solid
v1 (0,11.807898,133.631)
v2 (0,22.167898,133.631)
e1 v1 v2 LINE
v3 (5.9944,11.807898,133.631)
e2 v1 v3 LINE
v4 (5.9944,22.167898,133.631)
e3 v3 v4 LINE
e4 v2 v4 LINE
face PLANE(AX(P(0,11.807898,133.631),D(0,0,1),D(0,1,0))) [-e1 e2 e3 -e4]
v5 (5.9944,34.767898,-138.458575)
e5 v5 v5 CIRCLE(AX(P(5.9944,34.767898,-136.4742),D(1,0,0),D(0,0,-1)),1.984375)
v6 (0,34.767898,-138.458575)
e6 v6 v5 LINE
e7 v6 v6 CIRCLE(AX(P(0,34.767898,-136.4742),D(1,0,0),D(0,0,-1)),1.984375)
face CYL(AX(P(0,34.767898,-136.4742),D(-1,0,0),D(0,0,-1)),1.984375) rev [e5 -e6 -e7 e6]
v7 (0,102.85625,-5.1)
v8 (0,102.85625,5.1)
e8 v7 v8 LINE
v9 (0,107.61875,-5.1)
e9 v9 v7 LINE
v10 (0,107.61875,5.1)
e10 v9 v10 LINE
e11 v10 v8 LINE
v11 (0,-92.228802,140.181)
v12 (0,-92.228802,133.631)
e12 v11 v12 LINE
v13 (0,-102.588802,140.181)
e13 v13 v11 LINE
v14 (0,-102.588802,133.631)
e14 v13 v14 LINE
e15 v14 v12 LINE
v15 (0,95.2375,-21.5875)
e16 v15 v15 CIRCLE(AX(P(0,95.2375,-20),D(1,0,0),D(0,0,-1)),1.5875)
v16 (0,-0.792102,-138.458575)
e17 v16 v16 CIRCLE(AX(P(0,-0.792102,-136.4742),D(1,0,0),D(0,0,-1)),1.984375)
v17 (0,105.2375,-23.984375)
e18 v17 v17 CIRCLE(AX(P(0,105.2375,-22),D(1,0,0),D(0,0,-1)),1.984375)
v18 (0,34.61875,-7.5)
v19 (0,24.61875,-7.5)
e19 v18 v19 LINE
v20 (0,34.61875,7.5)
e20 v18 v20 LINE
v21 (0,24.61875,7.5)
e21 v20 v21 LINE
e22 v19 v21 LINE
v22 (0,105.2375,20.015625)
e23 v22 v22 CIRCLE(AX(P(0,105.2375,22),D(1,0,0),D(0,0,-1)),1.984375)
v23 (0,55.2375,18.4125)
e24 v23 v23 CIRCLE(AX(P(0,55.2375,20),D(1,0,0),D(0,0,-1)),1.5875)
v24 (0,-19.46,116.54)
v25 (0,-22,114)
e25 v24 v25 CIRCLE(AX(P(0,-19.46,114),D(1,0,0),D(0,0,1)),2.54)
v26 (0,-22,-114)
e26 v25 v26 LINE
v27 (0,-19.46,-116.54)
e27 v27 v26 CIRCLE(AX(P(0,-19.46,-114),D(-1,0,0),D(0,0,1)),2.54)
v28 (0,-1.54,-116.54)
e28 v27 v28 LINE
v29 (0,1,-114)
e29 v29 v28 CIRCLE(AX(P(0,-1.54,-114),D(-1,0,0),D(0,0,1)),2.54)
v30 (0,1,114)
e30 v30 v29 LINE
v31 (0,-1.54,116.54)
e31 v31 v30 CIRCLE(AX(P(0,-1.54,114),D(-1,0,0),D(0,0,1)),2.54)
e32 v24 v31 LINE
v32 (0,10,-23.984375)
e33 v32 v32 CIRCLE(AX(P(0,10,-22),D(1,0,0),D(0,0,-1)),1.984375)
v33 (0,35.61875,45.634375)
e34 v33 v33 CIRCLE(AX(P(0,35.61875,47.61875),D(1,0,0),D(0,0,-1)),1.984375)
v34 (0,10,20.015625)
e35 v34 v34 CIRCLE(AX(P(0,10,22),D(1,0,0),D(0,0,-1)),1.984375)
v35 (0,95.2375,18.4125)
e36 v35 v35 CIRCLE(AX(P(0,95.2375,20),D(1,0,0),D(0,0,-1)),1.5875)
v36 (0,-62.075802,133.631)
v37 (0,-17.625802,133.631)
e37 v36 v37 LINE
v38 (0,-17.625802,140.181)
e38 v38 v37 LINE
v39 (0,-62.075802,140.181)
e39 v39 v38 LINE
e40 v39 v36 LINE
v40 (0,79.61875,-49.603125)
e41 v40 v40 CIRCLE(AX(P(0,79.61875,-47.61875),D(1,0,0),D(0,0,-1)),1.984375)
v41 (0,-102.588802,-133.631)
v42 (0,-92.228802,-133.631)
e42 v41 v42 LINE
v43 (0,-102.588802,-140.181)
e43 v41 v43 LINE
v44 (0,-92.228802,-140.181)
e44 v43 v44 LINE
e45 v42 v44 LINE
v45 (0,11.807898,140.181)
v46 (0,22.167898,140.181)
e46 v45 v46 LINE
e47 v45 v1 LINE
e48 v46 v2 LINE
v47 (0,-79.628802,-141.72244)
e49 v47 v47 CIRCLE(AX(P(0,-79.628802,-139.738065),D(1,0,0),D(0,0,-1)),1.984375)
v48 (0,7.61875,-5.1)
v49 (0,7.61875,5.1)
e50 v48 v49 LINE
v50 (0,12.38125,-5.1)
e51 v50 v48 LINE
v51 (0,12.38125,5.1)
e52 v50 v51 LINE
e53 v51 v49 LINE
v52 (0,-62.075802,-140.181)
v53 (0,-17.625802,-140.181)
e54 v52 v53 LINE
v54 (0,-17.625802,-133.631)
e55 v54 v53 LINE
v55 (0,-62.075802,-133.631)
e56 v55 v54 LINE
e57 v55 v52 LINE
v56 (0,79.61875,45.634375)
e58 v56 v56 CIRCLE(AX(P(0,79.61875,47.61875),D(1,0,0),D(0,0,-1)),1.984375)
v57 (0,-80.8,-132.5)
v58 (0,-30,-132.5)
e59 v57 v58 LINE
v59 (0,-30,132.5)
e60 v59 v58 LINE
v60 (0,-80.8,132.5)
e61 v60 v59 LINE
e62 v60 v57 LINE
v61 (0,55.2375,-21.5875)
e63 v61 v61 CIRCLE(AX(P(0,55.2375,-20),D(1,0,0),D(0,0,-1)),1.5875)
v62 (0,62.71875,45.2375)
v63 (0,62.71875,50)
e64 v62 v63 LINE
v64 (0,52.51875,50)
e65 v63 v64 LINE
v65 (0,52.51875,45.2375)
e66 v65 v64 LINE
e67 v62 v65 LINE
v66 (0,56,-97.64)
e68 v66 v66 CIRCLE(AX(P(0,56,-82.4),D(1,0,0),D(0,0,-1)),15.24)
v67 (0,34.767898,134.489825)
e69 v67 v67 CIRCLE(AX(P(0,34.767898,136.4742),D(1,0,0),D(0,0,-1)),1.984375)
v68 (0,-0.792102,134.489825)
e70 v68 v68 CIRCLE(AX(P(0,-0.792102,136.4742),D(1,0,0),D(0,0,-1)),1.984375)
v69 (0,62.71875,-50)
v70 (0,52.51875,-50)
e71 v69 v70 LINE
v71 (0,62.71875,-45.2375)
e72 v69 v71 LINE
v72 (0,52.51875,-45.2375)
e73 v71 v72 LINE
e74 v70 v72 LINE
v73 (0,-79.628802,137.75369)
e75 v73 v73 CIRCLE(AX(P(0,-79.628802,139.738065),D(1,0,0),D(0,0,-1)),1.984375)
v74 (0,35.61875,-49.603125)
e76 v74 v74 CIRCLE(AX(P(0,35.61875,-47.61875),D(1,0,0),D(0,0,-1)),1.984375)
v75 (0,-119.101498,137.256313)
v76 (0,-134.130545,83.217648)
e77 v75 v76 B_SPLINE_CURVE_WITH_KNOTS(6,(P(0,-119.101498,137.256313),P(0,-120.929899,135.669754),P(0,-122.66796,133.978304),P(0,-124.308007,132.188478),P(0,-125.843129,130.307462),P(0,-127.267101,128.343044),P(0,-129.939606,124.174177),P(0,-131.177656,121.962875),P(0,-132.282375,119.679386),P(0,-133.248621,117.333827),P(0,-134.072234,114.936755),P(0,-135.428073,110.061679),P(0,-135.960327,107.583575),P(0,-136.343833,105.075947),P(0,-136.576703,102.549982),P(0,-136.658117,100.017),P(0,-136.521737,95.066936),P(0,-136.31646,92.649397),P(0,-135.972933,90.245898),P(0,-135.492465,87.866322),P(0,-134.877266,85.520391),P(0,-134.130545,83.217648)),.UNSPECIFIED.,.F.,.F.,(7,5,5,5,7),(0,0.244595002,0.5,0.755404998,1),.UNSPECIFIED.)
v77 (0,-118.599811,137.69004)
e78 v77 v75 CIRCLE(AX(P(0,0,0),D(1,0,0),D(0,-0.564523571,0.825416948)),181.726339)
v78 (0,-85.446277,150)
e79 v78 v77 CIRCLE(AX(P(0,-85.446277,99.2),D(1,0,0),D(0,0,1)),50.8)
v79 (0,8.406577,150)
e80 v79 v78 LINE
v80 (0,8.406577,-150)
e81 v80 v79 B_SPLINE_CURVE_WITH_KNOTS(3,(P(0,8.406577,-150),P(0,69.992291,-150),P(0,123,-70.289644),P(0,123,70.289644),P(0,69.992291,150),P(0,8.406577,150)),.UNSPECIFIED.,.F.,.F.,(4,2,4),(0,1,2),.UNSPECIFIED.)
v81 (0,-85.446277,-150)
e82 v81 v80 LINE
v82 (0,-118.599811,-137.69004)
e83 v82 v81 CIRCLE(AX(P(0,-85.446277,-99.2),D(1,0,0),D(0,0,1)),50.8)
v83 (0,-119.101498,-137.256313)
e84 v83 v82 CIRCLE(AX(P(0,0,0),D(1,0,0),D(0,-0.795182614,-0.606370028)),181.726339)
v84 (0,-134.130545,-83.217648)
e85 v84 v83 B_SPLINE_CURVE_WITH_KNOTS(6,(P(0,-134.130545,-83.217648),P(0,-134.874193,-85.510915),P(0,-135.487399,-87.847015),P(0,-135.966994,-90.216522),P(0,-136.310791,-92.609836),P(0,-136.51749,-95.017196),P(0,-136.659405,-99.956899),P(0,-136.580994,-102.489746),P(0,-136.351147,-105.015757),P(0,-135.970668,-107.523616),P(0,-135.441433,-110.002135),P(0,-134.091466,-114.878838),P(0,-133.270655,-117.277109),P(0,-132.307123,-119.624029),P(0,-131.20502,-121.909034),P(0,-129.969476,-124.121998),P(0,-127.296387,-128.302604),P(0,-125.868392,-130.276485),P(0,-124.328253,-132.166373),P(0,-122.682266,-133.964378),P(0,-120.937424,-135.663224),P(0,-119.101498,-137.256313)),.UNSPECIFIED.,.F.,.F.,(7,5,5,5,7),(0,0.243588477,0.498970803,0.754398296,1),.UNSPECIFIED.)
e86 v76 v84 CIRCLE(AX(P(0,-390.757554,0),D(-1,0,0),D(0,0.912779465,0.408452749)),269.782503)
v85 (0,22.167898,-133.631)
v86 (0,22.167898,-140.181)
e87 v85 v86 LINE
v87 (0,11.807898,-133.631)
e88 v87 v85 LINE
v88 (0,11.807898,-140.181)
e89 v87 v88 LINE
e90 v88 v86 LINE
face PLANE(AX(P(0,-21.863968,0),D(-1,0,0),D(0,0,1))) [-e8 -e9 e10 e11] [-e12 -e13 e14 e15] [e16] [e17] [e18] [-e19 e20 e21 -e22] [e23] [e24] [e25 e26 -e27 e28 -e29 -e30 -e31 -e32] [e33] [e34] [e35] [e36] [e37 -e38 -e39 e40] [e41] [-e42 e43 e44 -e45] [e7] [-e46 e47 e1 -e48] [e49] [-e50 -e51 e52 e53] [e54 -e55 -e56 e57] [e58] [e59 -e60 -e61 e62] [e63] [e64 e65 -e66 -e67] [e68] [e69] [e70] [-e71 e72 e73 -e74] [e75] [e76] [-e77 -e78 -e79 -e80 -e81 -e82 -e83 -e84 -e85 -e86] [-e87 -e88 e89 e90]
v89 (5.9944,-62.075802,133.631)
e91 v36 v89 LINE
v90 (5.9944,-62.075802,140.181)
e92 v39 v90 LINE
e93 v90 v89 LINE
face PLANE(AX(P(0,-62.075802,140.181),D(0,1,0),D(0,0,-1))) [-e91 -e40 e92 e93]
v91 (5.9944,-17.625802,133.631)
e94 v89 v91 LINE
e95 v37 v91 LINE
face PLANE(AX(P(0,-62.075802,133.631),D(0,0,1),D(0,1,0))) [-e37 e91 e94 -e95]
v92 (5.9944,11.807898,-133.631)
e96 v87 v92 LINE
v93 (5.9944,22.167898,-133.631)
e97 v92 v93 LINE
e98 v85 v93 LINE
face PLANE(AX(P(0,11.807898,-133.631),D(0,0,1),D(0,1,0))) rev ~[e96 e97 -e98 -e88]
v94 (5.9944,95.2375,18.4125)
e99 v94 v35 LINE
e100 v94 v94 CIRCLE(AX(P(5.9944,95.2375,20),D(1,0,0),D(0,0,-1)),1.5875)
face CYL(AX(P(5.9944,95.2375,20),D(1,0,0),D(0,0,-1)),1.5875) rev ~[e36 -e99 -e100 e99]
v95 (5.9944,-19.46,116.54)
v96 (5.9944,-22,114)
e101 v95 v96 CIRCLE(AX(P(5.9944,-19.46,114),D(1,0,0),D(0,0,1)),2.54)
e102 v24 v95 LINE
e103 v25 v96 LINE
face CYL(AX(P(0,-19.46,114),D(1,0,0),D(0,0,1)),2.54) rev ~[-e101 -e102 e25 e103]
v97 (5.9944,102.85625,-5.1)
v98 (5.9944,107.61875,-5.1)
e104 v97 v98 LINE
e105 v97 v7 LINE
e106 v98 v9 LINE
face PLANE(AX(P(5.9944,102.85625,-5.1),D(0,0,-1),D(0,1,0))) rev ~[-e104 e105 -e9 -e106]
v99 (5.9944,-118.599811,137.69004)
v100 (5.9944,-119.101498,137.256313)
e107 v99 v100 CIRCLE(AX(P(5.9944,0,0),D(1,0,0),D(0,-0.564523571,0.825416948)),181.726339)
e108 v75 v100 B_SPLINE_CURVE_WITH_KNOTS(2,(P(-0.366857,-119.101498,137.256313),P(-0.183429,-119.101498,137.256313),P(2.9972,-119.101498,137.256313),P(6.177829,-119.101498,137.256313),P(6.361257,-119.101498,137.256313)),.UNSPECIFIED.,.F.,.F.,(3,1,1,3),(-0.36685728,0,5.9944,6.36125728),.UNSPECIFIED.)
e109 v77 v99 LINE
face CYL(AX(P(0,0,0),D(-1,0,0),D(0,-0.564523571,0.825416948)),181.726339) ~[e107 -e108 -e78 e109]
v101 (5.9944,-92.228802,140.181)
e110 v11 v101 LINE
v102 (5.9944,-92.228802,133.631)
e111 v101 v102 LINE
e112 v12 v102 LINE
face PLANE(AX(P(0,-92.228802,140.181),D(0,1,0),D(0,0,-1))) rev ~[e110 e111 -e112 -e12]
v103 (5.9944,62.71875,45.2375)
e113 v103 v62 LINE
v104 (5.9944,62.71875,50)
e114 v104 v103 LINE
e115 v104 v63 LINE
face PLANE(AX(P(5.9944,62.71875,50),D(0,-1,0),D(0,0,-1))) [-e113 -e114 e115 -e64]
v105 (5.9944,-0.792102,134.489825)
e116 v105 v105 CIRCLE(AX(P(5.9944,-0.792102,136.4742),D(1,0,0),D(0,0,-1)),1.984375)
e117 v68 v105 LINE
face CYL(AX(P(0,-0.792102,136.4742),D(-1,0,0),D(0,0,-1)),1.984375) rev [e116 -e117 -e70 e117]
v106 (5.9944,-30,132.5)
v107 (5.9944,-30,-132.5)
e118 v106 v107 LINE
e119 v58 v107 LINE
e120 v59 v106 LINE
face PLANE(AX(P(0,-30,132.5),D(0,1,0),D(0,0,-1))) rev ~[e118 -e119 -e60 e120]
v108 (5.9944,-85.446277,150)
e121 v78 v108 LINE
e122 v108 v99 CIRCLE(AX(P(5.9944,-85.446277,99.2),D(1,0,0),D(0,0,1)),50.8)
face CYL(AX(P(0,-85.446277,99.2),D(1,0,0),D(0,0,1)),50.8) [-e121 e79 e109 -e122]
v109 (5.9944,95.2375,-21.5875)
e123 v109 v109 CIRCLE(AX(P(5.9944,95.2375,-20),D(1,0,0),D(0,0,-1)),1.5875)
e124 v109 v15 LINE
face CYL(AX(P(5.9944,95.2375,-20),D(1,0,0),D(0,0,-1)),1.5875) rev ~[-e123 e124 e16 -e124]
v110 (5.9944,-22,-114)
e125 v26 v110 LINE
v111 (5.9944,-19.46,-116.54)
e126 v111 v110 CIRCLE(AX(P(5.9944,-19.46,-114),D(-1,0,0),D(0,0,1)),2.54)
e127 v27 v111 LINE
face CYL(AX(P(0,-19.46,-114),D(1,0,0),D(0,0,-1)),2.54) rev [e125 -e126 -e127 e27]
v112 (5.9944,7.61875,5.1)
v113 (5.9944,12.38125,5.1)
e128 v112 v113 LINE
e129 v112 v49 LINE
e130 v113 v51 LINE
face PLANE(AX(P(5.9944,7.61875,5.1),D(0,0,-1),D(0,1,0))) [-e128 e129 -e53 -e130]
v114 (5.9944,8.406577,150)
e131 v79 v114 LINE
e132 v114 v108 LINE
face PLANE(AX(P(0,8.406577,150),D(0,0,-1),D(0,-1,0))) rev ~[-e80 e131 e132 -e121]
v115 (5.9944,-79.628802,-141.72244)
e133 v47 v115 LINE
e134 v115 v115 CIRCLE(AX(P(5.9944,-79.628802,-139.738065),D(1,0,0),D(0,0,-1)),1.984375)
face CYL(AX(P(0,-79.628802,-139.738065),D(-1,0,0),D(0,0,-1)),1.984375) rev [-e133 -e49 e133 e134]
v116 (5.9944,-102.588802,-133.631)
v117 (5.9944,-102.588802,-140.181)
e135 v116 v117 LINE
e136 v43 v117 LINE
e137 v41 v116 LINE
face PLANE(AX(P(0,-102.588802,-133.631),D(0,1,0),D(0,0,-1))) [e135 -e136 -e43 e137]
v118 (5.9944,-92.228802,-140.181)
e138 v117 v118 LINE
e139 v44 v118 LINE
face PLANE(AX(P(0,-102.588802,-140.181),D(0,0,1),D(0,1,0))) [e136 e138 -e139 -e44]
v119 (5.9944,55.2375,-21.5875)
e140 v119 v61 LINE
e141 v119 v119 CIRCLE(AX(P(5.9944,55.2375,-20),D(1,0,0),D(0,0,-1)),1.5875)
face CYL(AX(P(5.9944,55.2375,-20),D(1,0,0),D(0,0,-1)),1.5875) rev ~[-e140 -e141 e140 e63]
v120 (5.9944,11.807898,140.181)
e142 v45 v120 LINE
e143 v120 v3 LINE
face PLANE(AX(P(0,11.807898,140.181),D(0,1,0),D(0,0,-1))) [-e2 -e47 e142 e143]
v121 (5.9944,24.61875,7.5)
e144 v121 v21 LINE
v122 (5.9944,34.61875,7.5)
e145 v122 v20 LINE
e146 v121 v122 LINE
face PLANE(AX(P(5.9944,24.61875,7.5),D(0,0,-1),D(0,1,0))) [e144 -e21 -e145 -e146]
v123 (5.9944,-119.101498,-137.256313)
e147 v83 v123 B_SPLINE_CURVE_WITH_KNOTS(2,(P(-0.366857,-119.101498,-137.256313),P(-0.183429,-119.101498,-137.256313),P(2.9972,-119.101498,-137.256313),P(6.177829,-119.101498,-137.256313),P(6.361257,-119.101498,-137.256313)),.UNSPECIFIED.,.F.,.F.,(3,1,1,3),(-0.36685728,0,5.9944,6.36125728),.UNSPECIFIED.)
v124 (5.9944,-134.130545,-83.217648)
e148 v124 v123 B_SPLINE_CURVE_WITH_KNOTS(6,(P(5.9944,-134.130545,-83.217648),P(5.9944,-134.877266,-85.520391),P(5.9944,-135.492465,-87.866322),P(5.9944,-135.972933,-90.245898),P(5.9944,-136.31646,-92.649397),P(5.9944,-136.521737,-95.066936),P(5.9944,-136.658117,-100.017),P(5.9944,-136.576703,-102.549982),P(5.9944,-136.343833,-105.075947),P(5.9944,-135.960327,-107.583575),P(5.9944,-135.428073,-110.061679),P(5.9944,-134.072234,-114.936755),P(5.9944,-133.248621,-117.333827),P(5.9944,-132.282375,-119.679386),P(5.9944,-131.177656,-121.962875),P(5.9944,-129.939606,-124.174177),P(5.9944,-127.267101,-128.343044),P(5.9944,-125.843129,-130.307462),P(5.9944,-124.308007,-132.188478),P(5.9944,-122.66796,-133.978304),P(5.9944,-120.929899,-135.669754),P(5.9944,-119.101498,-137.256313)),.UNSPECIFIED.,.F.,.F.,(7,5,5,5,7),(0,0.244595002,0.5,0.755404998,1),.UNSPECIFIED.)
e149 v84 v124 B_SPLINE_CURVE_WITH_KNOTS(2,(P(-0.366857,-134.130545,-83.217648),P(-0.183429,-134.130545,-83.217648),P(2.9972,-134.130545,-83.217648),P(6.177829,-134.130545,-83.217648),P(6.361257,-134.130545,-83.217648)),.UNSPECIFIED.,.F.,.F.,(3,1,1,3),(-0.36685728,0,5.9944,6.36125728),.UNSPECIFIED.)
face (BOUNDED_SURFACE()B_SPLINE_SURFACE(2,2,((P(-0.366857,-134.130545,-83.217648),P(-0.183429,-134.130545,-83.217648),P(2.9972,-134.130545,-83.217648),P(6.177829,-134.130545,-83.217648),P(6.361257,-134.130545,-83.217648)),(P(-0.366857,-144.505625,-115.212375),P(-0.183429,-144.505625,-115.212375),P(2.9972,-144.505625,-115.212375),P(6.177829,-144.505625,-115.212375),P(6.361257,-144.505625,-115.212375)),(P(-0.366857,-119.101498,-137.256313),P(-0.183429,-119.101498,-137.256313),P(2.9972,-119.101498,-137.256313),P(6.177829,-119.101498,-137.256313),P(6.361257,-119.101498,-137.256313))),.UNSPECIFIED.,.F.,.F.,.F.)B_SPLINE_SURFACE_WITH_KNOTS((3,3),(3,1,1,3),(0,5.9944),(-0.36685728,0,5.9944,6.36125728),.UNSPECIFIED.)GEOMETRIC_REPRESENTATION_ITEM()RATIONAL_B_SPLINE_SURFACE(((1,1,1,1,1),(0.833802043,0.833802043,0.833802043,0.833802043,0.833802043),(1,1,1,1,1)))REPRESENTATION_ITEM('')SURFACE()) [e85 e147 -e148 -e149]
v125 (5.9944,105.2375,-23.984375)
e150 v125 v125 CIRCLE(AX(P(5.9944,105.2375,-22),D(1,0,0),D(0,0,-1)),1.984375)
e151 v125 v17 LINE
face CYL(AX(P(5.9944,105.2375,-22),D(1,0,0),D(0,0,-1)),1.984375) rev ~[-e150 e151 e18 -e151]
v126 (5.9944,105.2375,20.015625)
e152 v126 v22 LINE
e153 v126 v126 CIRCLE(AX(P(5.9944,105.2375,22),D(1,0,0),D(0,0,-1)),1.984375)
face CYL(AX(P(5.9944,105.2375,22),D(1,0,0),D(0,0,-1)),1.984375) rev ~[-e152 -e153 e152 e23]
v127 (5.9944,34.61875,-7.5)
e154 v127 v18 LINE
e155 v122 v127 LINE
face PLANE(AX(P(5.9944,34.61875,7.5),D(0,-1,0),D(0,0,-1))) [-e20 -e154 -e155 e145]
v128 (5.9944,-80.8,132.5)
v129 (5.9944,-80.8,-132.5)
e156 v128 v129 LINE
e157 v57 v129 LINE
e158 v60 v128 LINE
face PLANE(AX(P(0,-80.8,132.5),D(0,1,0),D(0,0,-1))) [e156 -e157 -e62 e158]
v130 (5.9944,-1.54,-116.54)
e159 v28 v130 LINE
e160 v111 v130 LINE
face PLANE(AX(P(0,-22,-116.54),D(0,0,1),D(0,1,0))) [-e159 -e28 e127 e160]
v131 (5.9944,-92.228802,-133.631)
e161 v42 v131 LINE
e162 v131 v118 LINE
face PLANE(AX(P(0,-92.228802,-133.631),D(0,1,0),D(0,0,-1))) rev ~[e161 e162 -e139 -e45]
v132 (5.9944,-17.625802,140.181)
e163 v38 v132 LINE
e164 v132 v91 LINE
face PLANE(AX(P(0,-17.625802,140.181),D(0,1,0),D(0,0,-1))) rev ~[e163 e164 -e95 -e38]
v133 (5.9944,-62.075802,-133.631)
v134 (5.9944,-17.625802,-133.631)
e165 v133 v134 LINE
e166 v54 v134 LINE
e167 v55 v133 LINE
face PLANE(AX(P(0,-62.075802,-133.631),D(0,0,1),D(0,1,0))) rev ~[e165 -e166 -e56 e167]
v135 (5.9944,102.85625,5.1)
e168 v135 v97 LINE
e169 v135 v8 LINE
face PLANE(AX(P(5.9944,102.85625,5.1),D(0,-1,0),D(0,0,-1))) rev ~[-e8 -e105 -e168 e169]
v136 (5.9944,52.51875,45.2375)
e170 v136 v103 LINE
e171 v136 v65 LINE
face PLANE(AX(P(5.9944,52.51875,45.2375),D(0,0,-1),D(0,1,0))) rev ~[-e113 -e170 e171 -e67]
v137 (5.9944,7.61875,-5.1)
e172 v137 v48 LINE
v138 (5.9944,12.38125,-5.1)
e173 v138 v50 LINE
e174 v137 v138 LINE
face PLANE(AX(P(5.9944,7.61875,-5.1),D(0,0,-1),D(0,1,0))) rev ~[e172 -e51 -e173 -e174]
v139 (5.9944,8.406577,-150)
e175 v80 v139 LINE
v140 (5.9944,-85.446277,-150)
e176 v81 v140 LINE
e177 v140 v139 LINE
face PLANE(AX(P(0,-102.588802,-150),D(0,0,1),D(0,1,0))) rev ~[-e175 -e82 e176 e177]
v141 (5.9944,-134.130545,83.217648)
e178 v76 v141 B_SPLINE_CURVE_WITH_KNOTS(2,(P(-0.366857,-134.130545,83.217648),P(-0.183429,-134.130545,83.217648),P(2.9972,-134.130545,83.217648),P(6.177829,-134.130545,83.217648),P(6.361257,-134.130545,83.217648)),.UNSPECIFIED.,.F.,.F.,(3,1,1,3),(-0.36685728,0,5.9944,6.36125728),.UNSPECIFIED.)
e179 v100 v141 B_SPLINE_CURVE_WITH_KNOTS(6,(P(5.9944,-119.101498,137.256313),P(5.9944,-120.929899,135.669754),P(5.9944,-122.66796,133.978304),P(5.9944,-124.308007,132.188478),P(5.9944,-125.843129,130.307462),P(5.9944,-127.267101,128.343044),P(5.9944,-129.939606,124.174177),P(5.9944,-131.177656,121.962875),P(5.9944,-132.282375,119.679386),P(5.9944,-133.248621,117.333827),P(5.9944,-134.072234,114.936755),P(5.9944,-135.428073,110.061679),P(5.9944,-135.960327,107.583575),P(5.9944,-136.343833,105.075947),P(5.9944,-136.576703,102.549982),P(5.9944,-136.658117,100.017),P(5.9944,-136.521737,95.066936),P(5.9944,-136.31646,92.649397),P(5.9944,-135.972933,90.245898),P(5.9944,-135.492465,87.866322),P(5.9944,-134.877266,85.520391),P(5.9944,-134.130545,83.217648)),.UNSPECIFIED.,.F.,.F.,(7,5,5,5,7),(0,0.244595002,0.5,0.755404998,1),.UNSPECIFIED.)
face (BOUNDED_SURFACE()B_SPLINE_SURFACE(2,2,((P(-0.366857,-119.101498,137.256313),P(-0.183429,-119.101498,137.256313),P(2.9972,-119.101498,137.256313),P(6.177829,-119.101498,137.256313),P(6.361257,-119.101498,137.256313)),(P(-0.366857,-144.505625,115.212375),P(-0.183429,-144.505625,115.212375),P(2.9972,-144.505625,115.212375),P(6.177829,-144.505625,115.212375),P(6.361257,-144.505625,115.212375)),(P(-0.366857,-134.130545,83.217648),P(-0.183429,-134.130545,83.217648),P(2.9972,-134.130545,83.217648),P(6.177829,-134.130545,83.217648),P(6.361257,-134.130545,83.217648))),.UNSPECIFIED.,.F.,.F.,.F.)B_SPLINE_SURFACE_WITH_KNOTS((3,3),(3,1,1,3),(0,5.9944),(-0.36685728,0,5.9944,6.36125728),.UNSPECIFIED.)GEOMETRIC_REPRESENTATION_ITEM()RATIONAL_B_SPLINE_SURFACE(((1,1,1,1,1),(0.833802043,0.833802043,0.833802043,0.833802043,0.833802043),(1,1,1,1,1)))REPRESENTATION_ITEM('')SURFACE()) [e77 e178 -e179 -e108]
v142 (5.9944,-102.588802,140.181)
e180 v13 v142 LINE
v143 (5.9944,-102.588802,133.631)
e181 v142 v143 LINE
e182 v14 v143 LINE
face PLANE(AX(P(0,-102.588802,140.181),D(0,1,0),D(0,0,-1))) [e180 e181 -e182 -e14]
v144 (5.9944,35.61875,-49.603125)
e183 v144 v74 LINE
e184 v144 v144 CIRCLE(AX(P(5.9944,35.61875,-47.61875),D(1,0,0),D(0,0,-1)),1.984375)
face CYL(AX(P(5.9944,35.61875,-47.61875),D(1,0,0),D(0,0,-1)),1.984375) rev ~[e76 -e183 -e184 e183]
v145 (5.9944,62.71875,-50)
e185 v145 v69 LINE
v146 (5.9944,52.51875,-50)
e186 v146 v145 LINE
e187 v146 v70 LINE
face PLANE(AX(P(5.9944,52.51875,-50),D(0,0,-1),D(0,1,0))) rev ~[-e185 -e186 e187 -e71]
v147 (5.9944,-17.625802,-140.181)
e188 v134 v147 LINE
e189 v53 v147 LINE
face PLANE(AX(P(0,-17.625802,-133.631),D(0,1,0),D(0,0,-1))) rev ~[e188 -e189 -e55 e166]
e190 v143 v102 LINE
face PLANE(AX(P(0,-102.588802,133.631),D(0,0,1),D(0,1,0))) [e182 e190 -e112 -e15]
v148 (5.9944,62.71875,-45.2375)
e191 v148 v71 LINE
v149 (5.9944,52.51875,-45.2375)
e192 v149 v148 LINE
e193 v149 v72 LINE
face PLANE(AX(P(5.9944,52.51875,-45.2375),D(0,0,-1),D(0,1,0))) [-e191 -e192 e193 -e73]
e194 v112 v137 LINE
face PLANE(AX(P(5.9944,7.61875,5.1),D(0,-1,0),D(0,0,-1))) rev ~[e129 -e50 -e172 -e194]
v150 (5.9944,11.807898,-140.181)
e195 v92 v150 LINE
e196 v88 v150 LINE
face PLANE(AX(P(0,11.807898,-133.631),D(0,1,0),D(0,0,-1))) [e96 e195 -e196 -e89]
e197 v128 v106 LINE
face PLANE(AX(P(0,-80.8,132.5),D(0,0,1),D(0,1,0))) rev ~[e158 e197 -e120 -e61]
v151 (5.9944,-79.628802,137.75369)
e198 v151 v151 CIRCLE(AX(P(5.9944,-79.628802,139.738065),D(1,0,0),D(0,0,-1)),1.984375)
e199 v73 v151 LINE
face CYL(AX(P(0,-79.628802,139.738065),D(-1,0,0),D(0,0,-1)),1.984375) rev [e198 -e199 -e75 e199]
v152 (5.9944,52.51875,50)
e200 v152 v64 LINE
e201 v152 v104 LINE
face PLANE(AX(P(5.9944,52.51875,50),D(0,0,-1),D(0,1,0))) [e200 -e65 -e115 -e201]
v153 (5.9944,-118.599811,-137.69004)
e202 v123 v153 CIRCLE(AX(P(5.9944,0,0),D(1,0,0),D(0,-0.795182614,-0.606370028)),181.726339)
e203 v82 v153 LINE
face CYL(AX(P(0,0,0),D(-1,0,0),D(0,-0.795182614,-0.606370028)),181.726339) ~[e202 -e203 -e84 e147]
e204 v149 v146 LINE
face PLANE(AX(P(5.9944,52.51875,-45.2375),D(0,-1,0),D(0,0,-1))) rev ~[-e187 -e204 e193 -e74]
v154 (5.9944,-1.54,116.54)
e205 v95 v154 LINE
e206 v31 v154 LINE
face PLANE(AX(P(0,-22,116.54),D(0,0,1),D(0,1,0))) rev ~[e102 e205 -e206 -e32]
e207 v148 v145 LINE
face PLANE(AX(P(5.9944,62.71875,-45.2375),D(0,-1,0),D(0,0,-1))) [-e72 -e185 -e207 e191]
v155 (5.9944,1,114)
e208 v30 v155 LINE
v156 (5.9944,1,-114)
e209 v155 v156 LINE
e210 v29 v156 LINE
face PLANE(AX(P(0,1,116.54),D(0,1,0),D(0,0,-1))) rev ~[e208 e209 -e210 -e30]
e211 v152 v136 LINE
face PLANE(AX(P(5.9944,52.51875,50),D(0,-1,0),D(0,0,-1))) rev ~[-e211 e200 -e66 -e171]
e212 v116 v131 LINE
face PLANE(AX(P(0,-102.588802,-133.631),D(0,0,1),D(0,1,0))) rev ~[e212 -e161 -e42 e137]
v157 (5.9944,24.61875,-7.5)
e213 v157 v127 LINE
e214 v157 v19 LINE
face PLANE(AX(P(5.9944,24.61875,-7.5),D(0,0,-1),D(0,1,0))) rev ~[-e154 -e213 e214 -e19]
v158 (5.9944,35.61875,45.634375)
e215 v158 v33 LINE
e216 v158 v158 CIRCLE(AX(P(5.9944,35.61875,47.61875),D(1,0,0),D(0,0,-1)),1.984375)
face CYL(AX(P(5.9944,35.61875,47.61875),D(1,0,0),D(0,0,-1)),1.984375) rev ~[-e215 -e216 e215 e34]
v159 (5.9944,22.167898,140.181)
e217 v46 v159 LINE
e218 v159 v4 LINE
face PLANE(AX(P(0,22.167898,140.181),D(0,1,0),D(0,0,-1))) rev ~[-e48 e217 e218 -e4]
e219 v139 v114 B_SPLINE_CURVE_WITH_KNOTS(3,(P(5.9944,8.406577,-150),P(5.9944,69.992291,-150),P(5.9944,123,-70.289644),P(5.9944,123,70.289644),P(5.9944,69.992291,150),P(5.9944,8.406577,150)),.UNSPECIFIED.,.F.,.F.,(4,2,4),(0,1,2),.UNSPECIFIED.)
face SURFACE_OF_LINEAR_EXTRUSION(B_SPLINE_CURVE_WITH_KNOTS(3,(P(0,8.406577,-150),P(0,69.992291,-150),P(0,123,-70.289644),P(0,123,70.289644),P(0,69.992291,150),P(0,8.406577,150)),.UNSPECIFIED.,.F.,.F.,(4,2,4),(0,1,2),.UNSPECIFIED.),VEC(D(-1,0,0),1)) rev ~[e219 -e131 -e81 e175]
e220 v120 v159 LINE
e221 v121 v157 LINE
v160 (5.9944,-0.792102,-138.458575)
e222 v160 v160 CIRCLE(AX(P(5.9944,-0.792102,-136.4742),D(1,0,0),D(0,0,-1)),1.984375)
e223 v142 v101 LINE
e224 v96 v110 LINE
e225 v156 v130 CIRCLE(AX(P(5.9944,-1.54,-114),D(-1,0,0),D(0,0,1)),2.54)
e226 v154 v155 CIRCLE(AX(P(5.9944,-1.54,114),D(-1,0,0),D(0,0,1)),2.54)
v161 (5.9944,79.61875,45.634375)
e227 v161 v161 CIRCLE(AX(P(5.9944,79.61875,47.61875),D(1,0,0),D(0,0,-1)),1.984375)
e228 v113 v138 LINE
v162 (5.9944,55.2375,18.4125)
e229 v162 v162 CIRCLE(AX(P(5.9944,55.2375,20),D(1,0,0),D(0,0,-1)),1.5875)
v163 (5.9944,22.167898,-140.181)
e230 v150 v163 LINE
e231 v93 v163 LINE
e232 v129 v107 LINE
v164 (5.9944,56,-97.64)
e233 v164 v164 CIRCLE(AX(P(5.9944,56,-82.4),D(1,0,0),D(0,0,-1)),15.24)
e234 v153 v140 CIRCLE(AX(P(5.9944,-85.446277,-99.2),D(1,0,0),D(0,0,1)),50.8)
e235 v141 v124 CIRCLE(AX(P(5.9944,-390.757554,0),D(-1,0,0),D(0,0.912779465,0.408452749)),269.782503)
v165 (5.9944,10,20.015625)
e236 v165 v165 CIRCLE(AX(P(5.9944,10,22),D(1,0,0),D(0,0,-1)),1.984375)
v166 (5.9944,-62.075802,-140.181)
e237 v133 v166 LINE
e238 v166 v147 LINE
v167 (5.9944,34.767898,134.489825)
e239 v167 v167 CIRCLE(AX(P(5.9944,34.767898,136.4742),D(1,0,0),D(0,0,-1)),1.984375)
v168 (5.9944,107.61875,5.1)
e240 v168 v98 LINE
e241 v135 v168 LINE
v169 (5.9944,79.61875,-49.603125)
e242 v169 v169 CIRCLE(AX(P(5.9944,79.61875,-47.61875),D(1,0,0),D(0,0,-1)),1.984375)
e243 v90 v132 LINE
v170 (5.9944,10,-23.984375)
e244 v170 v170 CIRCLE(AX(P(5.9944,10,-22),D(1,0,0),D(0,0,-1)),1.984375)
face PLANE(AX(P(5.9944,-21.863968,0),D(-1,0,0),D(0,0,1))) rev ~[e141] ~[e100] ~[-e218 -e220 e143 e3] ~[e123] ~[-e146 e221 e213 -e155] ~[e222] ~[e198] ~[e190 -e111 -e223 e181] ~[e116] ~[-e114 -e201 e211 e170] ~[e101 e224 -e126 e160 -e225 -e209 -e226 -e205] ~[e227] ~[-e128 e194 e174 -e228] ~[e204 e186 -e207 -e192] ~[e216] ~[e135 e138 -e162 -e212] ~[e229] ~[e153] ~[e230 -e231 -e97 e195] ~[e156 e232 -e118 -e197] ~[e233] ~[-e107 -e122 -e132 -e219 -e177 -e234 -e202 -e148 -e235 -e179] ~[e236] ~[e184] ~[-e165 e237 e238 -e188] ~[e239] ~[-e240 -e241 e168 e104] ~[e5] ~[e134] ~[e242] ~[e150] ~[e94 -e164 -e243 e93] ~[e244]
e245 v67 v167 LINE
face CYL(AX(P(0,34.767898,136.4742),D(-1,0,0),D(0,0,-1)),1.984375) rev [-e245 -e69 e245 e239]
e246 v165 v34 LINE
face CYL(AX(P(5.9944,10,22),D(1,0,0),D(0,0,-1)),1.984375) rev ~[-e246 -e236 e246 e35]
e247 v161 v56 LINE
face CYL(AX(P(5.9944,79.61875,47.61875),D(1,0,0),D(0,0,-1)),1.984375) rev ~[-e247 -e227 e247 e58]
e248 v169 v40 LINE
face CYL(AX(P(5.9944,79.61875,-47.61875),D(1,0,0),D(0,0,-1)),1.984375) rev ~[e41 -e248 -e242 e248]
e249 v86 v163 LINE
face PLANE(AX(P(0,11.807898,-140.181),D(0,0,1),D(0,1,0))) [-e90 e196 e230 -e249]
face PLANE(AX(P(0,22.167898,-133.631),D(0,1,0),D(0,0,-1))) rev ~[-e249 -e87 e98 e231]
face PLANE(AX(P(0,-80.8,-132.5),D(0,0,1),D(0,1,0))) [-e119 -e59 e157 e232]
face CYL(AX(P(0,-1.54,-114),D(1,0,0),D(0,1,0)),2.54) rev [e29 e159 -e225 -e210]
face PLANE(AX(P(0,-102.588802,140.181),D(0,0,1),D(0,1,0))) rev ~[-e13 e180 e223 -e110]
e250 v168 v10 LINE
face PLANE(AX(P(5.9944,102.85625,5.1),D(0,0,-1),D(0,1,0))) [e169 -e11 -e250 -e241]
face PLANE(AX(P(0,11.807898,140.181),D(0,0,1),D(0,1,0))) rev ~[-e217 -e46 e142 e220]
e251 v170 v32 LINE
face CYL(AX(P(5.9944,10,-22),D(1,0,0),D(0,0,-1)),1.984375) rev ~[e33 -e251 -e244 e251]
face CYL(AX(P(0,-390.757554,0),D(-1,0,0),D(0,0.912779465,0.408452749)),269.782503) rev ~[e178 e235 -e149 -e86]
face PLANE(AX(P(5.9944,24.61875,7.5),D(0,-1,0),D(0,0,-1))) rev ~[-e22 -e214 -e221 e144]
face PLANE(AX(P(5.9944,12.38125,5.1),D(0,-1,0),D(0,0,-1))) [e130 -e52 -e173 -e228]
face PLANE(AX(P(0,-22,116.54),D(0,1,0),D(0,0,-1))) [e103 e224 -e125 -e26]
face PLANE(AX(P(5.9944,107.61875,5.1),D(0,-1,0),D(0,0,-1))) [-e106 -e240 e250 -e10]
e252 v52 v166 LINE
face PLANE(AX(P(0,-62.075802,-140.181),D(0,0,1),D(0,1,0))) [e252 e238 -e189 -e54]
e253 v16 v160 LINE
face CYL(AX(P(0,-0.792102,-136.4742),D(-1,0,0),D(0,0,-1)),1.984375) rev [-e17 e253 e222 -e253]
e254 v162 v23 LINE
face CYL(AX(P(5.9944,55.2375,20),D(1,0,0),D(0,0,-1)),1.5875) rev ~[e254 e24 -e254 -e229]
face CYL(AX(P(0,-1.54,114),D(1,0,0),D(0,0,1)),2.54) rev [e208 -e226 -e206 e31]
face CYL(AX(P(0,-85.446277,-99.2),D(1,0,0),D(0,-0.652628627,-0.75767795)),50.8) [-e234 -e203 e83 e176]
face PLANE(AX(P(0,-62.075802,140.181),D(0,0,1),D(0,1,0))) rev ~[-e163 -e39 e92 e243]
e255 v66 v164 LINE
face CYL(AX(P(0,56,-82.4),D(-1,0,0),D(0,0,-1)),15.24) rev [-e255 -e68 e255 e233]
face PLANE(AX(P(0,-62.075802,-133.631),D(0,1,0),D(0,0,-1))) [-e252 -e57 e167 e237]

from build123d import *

# Parameters (mm, degrees)
SKETCH1_W          = 6.55
SKETCH1_H          = 10.36
SKETCH1_R          = 1.984375
SKETCH1_H_2        = 44.45
SKETCH1_W_2        = 265
SKETCH1_H_3        = 50.8
SKETCH1_W_3        = 233.08
SKETCH1_H_4        = 23
SKETCH1_R_2        = 15.24
EXTRUDE1_DEPTH     = 5.9944
FILLET3_R          = 50.8
FILLET4_R          = 50.8
FILLET5_R          = 50.8
FILLET6_R          = 50.8
FILLET12_R         = 2.54
FILLET13_R         = 2.54
FILLET14_R         = 2.54
FILLET15_R         = 2.54
SKETCH3_R          = 1.984375
SKETCH3_R_2        = 1.5875
SKETCH3_W          = 4.7625
SKETCH3_H          = 10.2
SKETCH3_W_2        = 10.2
SKETCH3_H_2        = 4.7625
SKETCH3_W_3        = 15
SKETCH3_H_3        = 10
CUT_EXTRUDE1_DEPTH = 10


with BuildPart() as part:
    # Sketch1 → Extrude1 (new body)
    with BuildSketch(Plane(origin=(0, 0, 0), x_dir=(0, 0, -1), z_dir=(1, 0, 0))):
        with BuildLine():
            add(Edge.make_bspline(
                [(-150, 8.40657677), (-150, 69.992291428), (-70.289643695, 123), (0, 123)],
                knots=[0, 0, 0, 0, 1, 1, 1, 1], degree=3))
            Line((-150, 8.40657677), (-150, -102.588801706))
            ThreePointArc((-150, -102.588801706), (-131.77407574, -125.140142234), (-110.193405103, -144.505625175))
            ThreePointArc((-110.193405103, -144.505625175), (0, -120.975050934), (110.193405103, -144.505625175))
            ThreePointArc((110.193405103, -144.505625175), (131.77407574, -125.140142234), (150, -102.588801706))
            Line((150, -102.588801706), (150, 8.40657677))
            add(Edge.make_bspline(
                [(150, 8.40657677), (150, 69.992291428), (70.289643695, 123), (0, 123)],
                knots=[0, 0, 0, 0, 1, 1, 1, 1], degree=3))
        make_face()
        with Locations((-136.906, -97.408801706)):
            Rectangle(SKETCH1_W, SKETCH1_H, mode=Mode.SUBTRACT)
        with Locations((-139.738064794, -79.628801706)):
            Circle(SKETCH1_R, mode=Mode.SUBTRACT)
        with Locations((-136.906, -39.850801706)):
            Rectangle(SKETCH1_W, SKETCH1_H_2, mode=Mode.SUBTRACT)
        with Locations((0, -55.4)):
            Rectangle(SKETCH1_W_2, SKETCH1_H_3, mode=Mode.SUBTRACT)
        with Locations((136.906, -97.408801706)):
            Rectangle(SKETCH1_W, SKETCH1_H, mode=Mode.SUBTRACT)
        with Locations((139.738064794, -79.628801706)):
            Circle(SKETCH1_R, mode=Mode.SUBTRACT)
        with Locations((136.906, -39.850801706)):
            Rectangle(SKETCH1_W, SKETCH1_H_2, mode=Mode.SUBTRACT)
        with Locations((-136.4742, -0.792101706)):
            Circle(SKETCH1_R, mode=Mode.SUBTRACT)
        with Locations((-136.906, 16.987898294)):
            Rectangle(SKETCH1_W, SKETCH1_H, mode=Mode.SUBTRACT)
        with Locations((-136.4742, 34.767898294)):
            Circle(SKETCH1_R, mode=Mode.SUBTRACT)
        with Locations((0, -10.5)):
            Rectangle(SKETCH1_W_3, SKETCH1_H_4, mode=Mode.SUBTRACT)
        with Locations((136.4742, -0.792101706)):
            Circle(SKETCH1_R, mode=Mode.SUBTRACT)
        with Locations((136.906, 16.987898294)):
            Rectangle(SKETCH1_W, SKETCH1_H, mode=Mode.SUBTRACT)
        with Locations((136.4742, 34.767898294)):
            Circle(SKETCH1_R, mode=Mode.SUBTRACT)
        with Locations((82.4, 56)):
            Circle(SKETCH1_R_2, mode=Mode.SUBTRACT)
    extrude(amount=EXTRUDE1_DEPTH)

    # Fillet3
    fillet3_edges = [part.edges().sort_by_distance(p)[0] for p in [
        (2.9972, -102.588801706, 150),
    ]]
    fillet(fillet3_edges, radius=FILLET3_R)

    # Fillet4
    fillet4_edges = [part.edges().sort_by_distance(p)[0] for p in [
        (2.9972, -144.505625175, 110.193405103),
    ]]
    fillet(fillet4_edges, radius=FILLET4_R)

    # Fillet5
    fillet5_edges = [part.edges().sort_by_distance(p)[0] for p in [
        (2.9972, -144.505625175, -110.193405103),
    ]]
    fillet(fillet5_edges, radius=FILLET5_R)

    # Fillet6
    fillet6_edges = [part.edges().sort_by_distance(p)[0] for p in [
        (2.9972, -102.588801706, -150),
    ]]
    fillet(fillet6_edges, radius=FILLET6_R)

    # Fillet12
    fillet12_edges = [part.edges().sort_by_distance(p)[0] for p in [
        (2.9972, -22, 116.54),
    ]]
    fillet(fillet12_edges, radius=FILLET12_R)

    # Fillet13
    fillet13_edges = [part.edges().sort_by_distance(p)[0] for p in [
        (2.9972, 1, 116.54),
    ]]
    fillet(fillet13_edges, radius=FILLET13_R)

    # Fillet14
    fillet14_edges = [part.edges().sort_by_distance(p)[0] for p in [
        (2.9972, 1, -116.54),
    ]]
    fillet(fillet14_edges, radius=FILLET14_R)

    # Fillet15
    fillet15_edges = [part.edges().sort_by_distance(p)[0] for p in [
        (2.9972, -22, -116.54),
    ]]
    fillet(fillet15_edges, radius=FILLET15_R)

    # Sketch3 → Cut-Extrude1 (cut)
    with BuildSketch(Plane(origin=(5.9944, 0, 0), x_dir=(0, 0, -1), z_dir=(1, 0, 0))):
        with Locations((47.61875, 79.61875)):
            Circle(SKETCH3_R)
        with Locations((47.61875, 35.61875)):
            Circle(SKETCH3_R)
        with Locations((22, 10)):
            Circle(SKETCH3_R)
        with Locations((-22, 10)):
            Circle(SKETCH3_R)
        with Locations((-47.61875, 35.61875)):
            Circle(SKETCH3_R)
        with Locations((-47.61875, 79.61875)):
            Circle(SKETCH3_R)
        with Locations((22, 105.2375)):
            Circle(SKETCH3_R)
        with Locations((-22, 105.2375)):
            Circle(SKETCH3_R)
        with Locations((20, 95.2375)):
            Circle(SKETCH3_R_2)
        with Locations((20, 55.2375)):
            Circle(SKETCH3_R_2)
        with Locations((-20, 55.2375)):
            Circle(SKETCH3_R_2)
        with Locations((-20, 95.2375)):
            Circle(SKETCH3_R_2)
        with Locations((47.61875, 57.61875)):
            Rectangle(SKETCH3_W, SKETCH3_H)
        with Locations((-47.61875, 57.61875)):
            Rectangle(SKETCH3_W, SKETCH3_H)
        with Locations((0, 105.2375)):
            Rectangle(SKETCH3_W_2, SKETCH3_H_2)
        with Locations((0, 10)):
            Rectangle(SKETCH3_W_2, SKETCH3_H_2)
        with Locations((0, 29.61875)):
            Rectangle(SKETCH3_W_3, SKETCH3_H_3)
    extrude(amount=-CUT_EXTRUDE1_DEPTH, mode=Mode.SUBTRACT)


solid = part.part
